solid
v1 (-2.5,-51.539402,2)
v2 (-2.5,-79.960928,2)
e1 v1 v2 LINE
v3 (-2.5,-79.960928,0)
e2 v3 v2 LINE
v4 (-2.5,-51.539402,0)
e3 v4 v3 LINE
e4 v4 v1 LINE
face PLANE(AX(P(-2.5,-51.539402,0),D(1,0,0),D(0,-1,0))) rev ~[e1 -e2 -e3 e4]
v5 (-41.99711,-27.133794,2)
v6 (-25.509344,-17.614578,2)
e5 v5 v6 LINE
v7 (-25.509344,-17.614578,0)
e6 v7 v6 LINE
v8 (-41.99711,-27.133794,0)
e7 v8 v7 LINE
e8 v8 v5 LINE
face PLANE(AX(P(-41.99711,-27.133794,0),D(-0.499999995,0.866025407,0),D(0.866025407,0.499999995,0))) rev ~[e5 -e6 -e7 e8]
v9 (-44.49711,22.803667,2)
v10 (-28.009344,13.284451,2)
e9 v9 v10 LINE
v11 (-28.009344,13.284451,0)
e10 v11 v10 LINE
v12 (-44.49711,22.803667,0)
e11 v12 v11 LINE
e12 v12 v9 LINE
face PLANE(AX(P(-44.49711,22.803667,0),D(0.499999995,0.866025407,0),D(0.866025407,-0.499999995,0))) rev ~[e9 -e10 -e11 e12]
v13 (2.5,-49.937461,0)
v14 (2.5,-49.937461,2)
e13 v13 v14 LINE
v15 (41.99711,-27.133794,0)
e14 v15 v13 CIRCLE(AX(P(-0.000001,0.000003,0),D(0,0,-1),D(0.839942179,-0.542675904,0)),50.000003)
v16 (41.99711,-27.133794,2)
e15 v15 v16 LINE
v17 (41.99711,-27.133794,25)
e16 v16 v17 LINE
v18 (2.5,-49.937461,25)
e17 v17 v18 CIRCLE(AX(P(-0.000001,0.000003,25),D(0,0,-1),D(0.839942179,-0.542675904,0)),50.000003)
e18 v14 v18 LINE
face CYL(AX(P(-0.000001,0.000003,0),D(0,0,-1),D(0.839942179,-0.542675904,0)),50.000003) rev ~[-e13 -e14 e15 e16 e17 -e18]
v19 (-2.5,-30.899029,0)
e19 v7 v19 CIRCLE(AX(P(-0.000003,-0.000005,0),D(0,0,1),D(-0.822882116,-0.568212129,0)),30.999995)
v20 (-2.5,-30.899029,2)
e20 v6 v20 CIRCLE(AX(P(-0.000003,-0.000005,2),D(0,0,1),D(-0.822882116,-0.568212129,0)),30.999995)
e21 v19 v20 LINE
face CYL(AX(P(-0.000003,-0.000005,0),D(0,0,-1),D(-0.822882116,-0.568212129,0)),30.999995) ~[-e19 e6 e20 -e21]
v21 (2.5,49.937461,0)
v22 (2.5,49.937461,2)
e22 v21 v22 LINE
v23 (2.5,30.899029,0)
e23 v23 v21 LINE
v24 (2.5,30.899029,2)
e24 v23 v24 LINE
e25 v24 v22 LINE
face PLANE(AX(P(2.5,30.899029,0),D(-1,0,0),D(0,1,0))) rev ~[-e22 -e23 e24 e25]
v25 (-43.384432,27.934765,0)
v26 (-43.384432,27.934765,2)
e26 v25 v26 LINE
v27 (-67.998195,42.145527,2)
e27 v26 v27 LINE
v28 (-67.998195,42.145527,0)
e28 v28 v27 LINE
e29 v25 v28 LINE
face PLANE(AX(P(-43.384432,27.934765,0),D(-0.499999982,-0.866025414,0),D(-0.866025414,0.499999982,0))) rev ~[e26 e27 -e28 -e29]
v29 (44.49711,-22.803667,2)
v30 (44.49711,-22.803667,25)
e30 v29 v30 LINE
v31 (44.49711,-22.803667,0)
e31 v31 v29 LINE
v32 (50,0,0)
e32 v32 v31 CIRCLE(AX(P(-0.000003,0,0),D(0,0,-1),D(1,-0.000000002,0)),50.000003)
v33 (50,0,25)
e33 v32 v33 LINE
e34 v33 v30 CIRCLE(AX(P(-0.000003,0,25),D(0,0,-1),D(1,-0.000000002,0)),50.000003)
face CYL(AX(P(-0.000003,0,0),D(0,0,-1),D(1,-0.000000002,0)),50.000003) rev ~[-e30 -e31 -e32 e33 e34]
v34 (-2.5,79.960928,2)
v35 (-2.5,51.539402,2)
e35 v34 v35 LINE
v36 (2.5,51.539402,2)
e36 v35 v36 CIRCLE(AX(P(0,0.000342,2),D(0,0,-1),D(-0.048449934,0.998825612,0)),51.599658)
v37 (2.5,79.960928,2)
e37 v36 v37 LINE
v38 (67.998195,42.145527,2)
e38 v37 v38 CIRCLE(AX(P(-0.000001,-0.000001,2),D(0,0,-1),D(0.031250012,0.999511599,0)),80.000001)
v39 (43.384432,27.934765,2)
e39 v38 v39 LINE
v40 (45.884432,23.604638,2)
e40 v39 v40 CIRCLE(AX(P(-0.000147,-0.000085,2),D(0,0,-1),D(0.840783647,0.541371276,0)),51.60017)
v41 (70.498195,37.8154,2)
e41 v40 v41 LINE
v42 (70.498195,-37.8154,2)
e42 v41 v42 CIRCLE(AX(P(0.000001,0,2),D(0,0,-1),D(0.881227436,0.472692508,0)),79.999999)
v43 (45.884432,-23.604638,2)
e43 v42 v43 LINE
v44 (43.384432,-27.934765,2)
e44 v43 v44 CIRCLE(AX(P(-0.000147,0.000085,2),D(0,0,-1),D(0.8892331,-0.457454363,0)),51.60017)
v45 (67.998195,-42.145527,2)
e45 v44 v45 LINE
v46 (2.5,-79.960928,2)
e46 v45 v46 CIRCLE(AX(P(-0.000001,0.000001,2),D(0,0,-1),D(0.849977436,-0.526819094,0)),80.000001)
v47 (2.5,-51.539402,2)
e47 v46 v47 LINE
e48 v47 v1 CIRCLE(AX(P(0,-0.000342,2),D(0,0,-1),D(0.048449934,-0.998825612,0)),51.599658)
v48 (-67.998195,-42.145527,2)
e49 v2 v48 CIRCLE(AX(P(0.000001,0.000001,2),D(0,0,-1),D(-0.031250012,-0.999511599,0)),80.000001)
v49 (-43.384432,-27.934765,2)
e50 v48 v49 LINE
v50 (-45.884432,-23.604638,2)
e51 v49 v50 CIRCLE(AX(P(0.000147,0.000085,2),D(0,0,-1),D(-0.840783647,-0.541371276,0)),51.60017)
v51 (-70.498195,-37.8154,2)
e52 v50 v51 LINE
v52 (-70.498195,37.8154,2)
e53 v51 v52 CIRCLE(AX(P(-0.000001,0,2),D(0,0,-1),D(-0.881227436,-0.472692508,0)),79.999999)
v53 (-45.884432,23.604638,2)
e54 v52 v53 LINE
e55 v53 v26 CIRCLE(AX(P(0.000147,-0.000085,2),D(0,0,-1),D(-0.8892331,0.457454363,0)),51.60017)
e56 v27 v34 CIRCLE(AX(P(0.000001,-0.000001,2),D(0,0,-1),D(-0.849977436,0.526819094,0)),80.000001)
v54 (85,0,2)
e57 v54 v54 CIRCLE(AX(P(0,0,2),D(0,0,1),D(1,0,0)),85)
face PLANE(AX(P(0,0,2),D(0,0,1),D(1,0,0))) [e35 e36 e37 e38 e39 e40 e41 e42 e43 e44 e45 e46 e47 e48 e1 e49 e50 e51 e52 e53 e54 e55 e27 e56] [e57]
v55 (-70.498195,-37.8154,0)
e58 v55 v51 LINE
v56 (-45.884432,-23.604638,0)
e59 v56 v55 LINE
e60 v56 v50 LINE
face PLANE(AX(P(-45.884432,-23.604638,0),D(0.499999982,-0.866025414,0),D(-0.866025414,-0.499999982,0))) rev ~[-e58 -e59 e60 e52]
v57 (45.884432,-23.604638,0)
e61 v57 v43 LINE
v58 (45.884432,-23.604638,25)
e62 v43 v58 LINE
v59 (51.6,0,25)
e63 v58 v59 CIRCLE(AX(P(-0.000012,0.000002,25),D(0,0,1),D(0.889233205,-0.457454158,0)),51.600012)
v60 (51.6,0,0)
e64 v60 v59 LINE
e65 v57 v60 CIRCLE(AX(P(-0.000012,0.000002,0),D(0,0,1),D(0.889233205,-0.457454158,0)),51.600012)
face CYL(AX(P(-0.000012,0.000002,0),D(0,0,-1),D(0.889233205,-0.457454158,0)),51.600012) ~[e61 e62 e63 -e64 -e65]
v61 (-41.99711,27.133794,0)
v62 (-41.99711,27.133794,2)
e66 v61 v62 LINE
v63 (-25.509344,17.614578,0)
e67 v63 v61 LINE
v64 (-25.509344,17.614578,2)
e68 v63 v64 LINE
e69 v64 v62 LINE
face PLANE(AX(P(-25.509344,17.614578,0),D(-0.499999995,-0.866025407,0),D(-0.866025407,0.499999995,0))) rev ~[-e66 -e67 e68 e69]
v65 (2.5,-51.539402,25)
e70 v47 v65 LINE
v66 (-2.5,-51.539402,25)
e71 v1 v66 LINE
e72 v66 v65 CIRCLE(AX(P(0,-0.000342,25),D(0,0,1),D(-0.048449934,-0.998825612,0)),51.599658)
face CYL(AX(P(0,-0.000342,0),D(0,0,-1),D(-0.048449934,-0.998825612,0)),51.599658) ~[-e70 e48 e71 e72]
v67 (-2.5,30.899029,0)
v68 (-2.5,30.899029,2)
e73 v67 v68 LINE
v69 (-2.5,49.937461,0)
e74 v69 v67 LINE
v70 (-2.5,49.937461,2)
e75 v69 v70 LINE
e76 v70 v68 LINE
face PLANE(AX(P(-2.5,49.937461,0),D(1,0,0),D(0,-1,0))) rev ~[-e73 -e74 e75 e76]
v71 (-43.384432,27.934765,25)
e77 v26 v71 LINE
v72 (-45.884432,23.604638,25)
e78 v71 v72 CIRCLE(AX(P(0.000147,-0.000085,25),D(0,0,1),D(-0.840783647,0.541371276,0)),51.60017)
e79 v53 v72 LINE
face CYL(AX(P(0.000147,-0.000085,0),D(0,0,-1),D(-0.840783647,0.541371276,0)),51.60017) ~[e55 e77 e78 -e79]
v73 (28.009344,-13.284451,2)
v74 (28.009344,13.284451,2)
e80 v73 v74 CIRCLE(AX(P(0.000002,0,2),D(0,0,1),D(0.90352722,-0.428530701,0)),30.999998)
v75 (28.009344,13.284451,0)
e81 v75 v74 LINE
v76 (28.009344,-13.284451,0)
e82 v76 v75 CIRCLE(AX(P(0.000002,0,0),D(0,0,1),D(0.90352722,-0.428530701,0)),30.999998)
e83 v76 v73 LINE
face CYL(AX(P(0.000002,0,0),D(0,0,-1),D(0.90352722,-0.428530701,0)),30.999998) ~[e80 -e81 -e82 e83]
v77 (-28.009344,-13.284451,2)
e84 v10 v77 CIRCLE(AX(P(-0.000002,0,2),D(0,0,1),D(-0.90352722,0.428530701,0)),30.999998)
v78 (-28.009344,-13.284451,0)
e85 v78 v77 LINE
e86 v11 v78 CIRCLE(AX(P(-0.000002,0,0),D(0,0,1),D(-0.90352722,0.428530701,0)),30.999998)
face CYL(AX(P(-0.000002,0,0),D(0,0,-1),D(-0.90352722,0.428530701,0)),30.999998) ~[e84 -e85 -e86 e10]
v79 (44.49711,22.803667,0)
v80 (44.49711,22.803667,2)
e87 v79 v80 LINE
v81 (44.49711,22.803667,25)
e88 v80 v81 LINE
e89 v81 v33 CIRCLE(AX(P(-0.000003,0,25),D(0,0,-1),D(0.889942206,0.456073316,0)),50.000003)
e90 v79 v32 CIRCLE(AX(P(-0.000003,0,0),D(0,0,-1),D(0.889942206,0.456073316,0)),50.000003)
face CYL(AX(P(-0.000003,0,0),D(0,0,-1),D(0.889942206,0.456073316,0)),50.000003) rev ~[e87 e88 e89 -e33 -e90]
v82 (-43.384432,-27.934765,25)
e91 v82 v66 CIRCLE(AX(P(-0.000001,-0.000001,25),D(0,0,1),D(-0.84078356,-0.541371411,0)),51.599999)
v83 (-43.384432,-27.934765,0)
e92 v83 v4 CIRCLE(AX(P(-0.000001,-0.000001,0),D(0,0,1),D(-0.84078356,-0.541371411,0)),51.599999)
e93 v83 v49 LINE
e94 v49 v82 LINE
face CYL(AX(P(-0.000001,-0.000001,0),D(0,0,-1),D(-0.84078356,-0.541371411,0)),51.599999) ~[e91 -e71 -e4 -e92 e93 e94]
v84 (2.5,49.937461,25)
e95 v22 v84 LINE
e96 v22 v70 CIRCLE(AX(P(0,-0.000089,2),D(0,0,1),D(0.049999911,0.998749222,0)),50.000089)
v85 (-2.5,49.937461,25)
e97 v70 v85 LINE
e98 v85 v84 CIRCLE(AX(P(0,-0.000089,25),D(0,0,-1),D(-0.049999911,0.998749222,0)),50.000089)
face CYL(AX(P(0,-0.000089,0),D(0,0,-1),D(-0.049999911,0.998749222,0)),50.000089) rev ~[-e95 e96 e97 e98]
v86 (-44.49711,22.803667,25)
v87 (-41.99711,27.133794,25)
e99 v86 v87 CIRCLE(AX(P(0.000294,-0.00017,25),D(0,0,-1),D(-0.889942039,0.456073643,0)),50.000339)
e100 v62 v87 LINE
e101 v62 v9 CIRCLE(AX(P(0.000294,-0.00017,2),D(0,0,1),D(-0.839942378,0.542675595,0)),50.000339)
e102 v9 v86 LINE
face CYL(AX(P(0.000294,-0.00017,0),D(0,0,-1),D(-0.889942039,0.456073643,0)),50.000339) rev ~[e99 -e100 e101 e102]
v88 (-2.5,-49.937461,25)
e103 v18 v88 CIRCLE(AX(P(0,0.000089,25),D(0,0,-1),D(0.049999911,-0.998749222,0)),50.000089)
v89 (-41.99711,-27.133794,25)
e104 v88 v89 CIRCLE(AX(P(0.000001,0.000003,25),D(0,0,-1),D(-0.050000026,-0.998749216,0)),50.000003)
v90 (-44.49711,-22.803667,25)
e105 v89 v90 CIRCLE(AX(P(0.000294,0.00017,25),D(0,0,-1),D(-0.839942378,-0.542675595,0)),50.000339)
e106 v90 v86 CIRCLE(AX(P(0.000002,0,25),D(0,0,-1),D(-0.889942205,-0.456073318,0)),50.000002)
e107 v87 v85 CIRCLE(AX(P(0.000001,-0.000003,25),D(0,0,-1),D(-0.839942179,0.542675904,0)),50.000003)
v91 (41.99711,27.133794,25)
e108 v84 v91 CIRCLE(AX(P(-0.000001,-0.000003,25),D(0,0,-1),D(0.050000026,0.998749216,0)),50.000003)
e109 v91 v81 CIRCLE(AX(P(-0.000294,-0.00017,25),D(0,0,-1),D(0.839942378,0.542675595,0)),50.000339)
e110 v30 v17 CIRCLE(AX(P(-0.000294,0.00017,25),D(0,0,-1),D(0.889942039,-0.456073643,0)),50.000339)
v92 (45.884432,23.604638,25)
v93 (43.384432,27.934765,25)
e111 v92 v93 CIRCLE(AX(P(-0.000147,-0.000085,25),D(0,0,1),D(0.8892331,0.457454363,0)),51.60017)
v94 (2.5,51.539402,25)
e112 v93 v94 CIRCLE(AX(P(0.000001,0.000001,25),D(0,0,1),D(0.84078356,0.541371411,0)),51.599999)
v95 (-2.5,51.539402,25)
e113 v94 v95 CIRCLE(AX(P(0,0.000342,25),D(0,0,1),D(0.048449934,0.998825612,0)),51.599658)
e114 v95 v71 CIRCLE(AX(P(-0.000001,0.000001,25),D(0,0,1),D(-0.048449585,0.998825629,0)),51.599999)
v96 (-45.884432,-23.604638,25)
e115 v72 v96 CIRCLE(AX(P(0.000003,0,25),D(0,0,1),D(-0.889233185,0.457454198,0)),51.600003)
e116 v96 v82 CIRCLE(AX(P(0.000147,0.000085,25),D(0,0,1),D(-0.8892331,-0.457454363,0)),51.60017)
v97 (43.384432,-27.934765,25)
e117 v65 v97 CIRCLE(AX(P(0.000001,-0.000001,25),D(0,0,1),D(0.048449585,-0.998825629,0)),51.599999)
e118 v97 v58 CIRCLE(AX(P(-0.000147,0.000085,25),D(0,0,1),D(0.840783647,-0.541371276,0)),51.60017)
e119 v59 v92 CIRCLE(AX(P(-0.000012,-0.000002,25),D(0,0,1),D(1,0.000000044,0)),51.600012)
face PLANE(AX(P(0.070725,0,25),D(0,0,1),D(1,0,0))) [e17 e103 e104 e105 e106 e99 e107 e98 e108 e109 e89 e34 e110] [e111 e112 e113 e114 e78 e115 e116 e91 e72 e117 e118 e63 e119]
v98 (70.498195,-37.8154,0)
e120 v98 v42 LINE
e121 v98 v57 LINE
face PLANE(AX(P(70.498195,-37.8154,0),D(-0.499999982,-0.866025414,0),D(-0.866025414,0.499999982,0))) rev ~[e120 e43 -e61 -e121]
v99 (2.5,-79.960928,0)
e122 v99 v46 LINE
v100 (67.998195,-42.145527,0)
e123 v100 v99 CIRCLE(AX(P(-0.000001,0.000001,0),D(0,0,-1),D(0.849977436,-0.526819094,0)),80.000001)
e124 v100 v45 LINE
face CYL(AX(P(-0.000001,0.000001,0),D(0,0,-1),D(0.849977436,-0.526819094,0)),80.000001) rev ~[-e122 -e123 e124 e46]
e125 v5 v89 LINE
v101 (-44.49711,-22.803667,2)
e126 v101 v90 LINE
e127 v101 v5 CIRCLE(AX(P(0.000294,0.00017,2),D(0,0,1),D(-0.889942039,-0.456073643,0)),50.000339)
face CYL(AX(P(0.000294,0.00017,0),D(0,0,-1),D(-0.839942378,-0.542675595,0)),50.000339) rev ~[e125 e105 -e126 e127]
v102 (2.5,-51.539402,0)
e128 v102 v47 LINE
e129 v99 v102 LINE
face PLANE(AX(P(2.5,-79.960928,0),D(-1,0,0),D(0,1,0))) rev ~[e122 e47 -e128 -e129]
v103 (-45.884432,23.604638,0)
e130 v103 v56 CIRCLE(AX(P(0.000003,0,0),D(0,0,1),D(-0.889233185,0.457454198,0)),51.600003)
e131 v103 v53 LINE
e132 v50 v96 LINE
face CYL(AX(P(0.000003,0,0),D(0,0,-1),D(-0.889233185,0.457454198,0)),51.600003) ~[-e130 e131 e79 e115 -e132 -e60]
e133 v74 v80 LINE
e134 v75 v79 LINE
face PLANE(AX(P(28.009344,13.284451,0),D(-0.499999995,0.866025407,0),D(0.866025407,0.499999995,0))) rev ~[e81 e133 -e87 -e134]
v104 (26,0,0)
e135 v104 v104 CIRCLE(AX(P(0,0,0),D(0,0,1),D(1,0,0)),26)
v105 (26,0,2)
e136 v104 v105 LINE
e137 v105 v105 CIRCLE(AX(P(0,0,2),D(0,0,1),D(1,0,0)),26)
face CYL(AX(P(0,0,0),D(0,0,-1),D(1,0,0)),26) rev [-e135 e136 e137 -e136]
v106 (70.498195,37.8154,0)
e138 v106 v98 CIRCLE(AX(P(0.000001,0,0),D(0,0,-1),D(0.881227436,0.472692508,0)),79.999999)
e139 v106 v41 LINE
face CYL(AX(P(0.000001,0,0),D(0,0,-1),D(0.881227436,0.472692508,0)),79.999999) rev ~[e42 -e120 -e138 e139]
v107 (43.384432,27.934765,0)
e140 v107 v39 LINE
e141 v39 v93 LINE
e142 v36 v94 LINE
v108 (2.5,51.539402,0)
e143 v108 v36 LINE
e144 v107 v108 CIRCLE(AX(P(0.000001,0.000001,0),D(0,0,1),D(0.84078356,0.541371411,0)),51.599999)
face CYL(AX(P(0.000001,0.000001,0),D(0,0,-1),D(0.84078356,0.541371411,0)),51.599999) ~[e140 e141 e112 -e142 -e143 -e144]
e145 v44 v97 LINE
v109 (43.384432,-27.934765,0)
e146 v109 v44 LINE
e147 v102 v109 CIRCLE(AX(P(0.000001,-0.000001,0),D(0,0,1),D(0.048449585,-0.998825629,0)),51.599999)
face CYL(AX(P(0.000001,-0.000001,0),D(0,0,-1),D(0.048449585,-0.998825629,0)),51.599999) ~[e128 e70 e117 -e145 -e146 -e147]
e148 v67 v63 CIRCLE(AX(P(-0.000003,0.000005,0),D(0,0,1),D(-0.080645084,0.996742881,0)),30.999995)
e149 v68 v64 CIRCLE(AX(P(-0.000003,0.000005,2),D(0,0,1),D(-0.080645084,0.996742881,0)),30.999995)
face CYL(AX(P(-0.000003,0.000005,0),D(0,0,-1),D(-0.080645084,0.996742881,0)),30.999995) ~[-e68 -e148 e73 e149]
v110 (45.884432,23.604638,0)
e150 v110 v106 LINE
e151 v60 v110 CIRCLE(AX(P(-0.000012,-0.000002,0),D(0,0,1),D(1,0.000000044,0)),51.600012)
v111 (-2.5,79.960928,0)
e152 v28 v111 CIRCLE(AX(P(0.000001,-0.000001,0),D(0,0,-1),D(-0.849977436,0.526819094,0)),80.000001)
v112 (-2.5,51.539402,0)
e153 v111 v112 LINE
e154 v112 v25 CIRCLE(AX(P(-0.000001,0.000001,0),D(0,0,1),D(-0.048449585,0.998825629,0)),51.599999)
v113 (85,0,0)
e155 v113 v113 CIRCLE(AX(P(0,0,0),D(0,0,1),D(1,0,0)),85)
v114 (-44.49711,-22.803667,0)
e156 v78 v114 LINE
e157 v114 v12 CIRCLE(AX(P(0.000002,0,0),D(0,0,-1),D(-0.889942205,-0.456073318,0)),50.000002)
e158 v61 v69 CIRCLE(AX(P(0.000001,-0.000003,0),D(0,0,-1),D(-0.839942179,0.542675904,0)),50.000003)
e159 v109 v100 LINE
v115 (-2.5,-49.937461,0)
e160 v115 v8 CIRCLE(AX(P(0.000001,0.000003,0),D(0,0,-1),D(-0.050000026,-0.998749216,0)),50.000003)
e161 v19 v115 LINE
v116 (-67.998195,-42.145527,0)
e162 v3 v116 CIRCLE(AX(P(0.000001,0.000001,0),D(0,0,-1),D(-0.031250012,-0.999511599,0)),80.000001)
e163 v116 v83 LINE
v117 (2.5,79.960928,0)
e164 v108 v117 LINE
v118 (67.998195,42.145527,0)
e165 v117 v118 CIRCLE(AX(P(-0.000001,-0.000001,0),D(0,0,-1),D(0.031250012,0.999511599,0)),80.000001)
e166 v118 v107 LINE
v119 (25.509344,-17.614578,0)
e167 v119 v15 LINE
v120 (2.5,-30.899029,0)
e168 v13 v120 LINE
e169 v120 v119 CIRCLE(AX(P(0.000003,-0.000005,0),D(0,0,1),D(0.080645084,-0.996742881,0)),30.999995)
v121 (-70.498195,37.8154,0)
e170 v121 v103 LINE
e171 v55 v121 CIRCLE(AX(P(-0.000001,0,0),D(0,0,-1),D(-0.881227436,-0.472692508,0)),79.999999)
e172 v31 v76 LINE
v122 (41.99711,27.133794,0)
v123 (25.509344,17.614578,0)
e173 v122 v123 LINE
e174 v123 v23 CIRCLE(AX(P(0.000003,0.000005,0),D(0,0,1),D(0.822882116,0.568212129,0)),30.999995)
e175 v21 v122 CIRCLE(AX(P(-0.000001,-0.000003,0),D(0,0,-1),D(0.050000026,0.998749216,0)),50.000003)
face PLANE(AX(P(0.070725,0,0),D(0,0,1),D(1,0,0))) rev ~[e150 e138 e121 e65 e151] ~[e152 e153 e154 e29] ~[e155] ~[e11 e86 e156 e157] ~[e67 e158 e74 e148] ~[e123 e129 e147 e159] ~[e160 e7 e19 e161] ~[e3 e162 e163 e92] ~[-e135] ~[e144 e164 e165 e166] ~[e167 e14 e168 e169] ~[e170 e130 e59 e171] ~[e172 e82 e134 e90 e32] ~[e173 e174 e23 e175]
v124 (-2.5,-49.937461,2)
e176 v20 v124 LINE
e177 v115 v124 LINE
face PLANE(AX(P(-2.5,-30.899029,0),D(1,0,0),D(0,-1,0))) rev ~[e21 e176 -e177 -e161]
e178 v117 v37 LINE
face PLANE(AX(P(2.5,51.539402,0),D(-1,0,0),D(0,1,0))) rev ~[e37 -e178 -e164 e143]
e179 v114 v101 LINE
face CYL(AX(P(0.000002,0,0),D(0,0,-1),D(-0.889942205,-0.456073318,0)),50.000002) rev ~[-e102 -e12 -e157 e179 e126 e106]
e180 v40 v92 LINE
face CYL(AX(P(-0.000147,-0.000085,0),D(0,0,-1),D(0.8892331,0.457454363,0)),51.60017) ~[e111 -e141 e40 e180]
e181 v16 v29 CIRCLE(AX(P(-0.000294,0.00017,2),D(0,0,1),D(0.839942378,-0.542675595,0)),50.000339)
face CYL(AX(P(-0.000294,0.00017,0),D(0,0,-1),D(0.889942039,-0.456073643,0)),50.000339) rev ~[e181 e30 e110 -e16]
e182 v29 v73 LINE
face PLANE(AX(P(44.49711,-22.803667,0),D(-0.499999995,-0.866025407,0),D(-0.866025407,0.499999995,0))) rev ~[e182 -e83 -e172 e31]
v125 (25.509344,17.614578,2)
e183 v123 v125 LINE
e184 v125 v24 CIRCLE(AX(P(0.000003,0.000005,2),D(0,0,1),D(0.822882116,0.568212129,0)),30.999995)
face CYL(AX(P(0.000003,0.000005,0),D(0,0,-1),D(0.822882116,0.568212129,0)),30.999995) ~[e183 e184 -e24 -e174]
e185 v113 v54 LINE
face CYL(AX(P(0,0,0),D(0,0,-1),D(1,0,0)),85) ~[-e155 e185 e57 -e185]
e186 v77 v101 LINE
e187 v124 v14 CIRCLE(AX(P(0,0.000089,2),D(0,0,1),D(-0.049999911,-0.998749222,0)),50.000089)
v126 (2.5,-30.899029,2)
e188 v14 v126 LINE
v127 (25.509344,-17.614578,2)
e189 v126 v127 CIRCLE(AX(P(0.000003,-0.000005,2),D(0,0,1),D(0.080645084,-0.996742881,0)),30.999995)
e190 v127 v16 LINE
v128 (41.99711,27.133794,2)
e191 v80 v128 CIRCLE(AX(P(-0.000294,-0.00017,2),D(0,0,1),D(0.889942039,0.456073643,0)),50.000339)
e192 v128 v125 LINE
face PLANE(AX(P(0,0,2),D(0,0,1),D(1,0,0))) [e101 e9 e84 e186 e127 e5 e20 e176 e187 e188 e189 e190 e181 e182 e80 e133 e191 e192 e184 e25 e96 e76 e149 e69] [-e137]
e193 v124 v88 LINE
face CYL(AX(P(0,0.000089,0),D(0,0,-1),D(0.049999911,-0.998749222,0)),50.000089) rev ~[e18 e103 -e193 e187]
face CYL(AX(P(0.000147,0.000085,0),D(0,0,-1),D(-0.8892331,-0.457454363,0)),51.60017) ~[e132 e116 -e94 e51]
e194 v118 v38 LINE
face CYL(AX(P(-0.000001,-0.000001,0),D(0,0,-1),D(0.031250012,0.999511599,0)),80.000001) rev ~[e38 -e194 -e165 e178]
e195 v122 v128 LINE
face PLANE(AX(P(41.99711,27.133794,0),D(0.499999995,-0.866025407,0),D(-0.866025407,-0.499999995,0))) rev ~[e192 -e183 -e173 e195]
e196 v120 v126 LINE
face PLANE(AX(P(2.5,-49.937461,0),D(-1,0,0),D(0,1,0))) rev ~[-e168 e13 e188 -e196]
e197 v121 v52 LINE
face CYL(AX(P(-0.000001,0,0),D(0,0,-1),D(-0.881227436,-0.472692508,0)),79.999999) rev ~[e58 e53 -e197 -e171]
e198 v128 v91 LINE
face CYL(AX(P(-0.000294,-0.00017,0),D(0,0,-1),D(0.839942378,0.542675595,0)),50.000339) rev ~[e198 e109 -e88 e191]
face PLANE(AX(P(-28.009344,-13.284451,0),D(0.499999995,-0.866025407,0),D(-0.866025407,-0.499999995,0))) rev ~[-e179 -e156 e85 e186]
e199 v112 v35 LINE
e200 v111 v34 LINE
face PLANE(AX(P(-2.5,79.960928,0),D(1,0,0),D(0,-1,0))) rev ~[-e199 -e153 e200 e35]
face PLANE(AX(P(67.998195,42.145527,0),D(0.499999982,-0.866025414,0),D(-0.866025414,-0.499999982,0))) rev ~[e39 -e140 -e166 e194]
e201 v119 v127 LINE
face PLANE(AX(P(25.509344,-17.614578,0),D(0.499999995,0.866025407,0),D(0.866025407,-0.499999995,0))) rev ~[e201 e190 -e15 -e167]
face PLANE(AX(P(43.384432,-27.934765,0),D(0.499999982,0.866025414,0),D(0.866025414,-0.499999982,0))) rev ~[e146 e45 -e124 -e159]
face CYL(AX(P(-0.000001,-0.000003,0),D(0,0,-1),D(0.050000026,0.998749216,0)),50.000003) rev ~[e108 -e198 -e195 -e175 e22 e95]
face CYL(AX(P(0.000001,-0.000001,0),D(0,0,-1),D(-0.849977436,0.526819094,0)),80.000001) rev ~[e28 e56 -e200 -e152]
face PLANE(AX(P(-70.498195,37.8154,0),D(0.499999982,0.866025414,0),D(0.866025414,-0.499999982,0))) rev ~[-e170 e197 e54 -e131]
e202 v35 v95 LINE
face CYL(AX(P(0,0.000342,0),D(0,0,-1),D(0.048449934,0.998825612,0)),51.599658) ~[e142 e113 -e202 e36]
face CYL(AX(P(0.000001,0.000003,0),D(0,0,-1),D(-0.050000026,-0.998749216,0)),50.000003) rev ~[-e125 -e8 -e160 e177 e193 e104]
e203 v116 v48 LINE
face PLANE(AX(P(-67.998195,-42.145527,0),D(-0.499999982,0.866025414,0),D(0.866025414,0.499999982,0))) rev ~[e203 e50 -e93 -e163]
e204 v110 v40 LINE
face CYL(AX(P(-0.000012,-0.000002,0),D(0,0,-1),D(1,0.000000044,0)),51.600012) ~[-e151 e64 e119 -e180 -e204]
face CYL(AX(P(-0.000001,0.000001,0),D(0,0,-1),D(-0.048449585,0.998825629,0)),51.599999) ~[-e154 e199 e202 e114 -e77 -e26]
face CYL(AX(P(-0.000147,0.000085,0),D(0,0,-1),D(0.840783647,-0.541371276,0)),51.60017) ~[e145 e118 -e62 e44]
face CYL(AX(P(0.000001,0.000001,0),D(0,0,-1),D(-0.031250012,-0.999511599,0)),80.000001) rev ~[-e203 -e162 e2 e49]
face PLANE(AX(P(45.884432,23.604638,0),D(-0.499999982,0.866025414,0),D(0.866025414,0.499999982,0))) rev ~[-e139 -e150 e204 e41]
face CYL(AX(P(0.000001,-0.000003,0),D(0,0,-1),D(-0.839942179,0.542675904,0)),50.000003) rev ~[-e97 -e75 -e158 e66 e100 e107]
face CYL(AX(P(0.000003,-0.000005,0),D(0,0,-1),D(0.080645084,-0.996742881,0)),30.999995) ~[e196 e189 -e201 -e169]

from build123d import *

# Parameters (mm, degrees)
F0_R     = 85
F0_R_2   = 26
F1_DEPTH = 2
F2_DEPTH = 25


with BuildPart() as f1:
    # F0 (on Top) → F1 (new body)
    with BuildSketch(Plane.XY):
        Circle(F0_R)
        with BuildLine():
            ThreePointArc((43.384432, 27.934765), (44.686911, 25.8), (45.884432, 23.604638))
            Line((45.884432, 23.604638), (70.498195, 37.8154))
            ThreePointArc((70.498195, 37.8154), (80, 0), (70.498195, -37.8154))
            Line((70.498195, -37.8154), (45.884432, -23.604638))
            ThreePointArc((45.884432, -23.604638), (44.686911, -25.8), (43.384432, -27.934765))
            Line((43.384432, -27.934765), (67.998195, -42.145527))
            ThreePointArc((67.998195, -42.145527), (40, -69.282032), (2.5, -79.960928))
            Line((2.5, -79.960928), (2.5, -51.539402))
            ThreePointArc((2.5, -51.539402), (0, -51.6), (-2.5, -51.539402))
            Line((-2.5, -51.539402), (-2.5, -79.960928))
            ThreePointArc((-2.5, -79.960928), (-40, -69.282032), (-67.998195, -42.145527))
            Line((-67.998195, -42.145527), (-43.384432, -27.934765))
            ThreePointArc((-43.384432, -27.934765), (-44.686911, -25.8), (-45.884432, -23.604638))
            Line((-45.884432, -23.604638), (-70.498195, -37.8154))
            ThreePointArc((-70.498195, -37.8154), (-80, 0), (-70.498195, 37.8154))
            Line((-70.498195, 37.8154), (-45.884432, 23.604638))
            ThreePointArc((-45.884432, 23.604638), (-44.686911, 25.8), (-43.384432, 27.934765))
            Line((-43.384432, 27.934765), (-67.998195, 42.145527))
            ThreePointArc((-67.998195, 42.145527), (-40, 69.282032), (-2.5, 79.960928))
            Line((-2.5, 79.960928), (-2.5, 51.539402))
            ThreePointArc((-2.5, 51.539402), (0, 51.6), (2.5, 51.539402))
            Line((2.5, 51.539402), (2.5, 79.960928))
            ThreePointArc((2.5, 79.960928), (40, 69.282032), (67.998195, 42.145527))
            Line((67.998195, 42.145527), (43.384432, 27.934765))
        make_face(mode=Mode.SUBTRACT)
        with BuildLine():
            Line((28.009344, 13.284451), (44.49711, 22.803667))
            ThreePointArc((44.49711, 22.803667), (43.30127, 25), (41.99711, 27.133794))
            Line((41.99711, 27.133794), (25.509344, 17.614578))
            ThreePointArc((25.509344, 17.614578), (15.5, 26.846788), (2.5, 30.899029))
            Line((2.5, 30.899029), (2.5, 49.937461))
            ThreePointArc((2.5, 49.937461), (0, 50), (-2.5, 49.937461))
            Line((-2.5, 49.937461), (-2.5, 30.899029))
            ThreePointArc((-2.5, 30.899029), (-15.5, 26.846788), (-25.509344, 17.614578))
            Line((-25.509344, 17.614578), (-41.99711, 27.133794))
            ThreePointArc((-41.99711, 27.133794), (-43.30127, 25), (-44.49711, 22.803667))
            Line((-44.49711, 22.803667), (-28.009344, 13.284451))
            ThreePointArc((-28.009344, 13.284451), (-31, 0), (-28.009344, -13.284451))
            Line((-28.009344, -13.284451), (-44.49711, -22.803667))
            ThreePointArc((-44.49711, -22.803667), (-43.30127, -25), (-41.99711, -27.133794))
            Line((-41.99711, -27.133794), (-25.509344, -17.614578))
            ThreePointArc((-25.509344, -17.614578), (-15.5, -26.846788), (-2.5, -30.899029))
            Line((-2.5, -30.899029), (-2.5, -49.937461))
            ThreePointArc((-2.5, -49.937461), (0, -50), (2.5, -49.937461))
            Line((2.5, -49.937461), (2.5, -30.899029))
            ThreePointArc((2.5, -30.899029), (15.5, -26.846788), (25.509344, -17.614578))
            Line((25.509344, -17.614578), (41.99711, -27.133794))
            ThreePointArc((41.99711, -27.133794), (43.30127, -25), (44.49711, -22.803667))
            Line((44.49711, -22.803667), (28.009344, -13.284451))
            ThreePointArc((28.009344, -13.284451), (31, 0), (28.009344, 13.284451))
        make_face()
        Circle(F0_R_2, mode=Mode.SUBTRACT)
    extrude(amount=F1_DEPTH)

    # F0 (on Top) → F2 (join)
    with BuildSketch(Plane.XY):
        with BuildLine():
            ThreePointArc((45.884432, -23.604638), (50.150756, -12.143379), (51.6, 0))
            ThreePointArc((51.6, 0), (50.150756, 12.143379), (45.884432, 23.604638))
            ThreePointArc((45.884432, 23.604638), (44.686911, 25.8), (43.384432, 27.934765))
            ThreePointArc((43.384432, 27.934765), (25.8, 44.686911), (2.5, 51.539402))
            ThreePointArc((2.5, 51.539402), (0, 51.6), (-2.5, 51.539402))
            ThreePointArc((-2.5, 51.539402), (-25.8, 44.686911), (-43.384432, 27.934765))
            ThreePointArc((-43.384432, 27.934765), (-44.686911, 25.8), (-45.884432, 23.604638))
            ThreePointArc((-45.884432, 23.604638), (-51.6, 0), (-45.884432, -23.604638))
            ThreePointArc((-45.884432, -23.604638), (-44.686911, -25.8), (-43.384432, -27.934765))
            ThreePointArc((-43.384432, -27.934765), (-25.8, -44.686911), (-2.5, -51.539402))
            ThreePointArc((-2.5, -51.539402), (0, -51.6), (2.5, -51.539402))
            ThreePointArc((2.5, -51.539402), (25.8, -44.686911), (43.384432, -27.934765))
            ThreePointArc((43.384432, -27.934765), (44.686911, -25.8), (45.884432, -23.604638))
        make_face()
        with BuildLine():
            ThreePointArc((44.49711, 22.803667), (48.604812, 11.72912), (50, 0))
            ThreePointArc((50, 0), (48.604812, -11.72912), (44.49711, -22.803667))
            ThreePointArc((44.49711, -22.803667), (43.30127, -25), (41.99711, -27.133794))
            ThreePointArc((41.99711, -27.133794), (25, -43.30127), (2.5, -49.937461))
            ThreePointArc((2.5, -49.937461), (0, -50), (-2.5, -49.937461))
            ThreePointArc((-2.5, -49.937461), (-25, -43.30127), (-41.99711, -27.133794))
            ThreePointArc((-41.99711, -27.133794), (-43.30127, -25), (-44.49711, -22.803667))
            ThreePointArc((-44.49711, -22.803667), (-50, 0), (-44.49711, 22.803667))
            ThreePointArc((-44.49711, 22.803667), (-43.30127, 25), (-41.99711, 27.133794))
            ThreePointArc((-41.99711, 27.133794), (-25, 43.30127), (-2.5, 49.937461))
            ThreePointArc((-2.5, 49.937461), (0, 50), (2.5, 49.937461))
            ThreePointArc((2.5, 49.937461), (25, 43.30127), (41.99711, 27.133794))
            ThreePointArc((41.99711, 27.133794), (43.30127, 25), (44.49711, 22.803667))
        make_face(mode=Mode.SUBTRACT)
    extrude(amount=F2_DEPTH)


solid = f1.part
